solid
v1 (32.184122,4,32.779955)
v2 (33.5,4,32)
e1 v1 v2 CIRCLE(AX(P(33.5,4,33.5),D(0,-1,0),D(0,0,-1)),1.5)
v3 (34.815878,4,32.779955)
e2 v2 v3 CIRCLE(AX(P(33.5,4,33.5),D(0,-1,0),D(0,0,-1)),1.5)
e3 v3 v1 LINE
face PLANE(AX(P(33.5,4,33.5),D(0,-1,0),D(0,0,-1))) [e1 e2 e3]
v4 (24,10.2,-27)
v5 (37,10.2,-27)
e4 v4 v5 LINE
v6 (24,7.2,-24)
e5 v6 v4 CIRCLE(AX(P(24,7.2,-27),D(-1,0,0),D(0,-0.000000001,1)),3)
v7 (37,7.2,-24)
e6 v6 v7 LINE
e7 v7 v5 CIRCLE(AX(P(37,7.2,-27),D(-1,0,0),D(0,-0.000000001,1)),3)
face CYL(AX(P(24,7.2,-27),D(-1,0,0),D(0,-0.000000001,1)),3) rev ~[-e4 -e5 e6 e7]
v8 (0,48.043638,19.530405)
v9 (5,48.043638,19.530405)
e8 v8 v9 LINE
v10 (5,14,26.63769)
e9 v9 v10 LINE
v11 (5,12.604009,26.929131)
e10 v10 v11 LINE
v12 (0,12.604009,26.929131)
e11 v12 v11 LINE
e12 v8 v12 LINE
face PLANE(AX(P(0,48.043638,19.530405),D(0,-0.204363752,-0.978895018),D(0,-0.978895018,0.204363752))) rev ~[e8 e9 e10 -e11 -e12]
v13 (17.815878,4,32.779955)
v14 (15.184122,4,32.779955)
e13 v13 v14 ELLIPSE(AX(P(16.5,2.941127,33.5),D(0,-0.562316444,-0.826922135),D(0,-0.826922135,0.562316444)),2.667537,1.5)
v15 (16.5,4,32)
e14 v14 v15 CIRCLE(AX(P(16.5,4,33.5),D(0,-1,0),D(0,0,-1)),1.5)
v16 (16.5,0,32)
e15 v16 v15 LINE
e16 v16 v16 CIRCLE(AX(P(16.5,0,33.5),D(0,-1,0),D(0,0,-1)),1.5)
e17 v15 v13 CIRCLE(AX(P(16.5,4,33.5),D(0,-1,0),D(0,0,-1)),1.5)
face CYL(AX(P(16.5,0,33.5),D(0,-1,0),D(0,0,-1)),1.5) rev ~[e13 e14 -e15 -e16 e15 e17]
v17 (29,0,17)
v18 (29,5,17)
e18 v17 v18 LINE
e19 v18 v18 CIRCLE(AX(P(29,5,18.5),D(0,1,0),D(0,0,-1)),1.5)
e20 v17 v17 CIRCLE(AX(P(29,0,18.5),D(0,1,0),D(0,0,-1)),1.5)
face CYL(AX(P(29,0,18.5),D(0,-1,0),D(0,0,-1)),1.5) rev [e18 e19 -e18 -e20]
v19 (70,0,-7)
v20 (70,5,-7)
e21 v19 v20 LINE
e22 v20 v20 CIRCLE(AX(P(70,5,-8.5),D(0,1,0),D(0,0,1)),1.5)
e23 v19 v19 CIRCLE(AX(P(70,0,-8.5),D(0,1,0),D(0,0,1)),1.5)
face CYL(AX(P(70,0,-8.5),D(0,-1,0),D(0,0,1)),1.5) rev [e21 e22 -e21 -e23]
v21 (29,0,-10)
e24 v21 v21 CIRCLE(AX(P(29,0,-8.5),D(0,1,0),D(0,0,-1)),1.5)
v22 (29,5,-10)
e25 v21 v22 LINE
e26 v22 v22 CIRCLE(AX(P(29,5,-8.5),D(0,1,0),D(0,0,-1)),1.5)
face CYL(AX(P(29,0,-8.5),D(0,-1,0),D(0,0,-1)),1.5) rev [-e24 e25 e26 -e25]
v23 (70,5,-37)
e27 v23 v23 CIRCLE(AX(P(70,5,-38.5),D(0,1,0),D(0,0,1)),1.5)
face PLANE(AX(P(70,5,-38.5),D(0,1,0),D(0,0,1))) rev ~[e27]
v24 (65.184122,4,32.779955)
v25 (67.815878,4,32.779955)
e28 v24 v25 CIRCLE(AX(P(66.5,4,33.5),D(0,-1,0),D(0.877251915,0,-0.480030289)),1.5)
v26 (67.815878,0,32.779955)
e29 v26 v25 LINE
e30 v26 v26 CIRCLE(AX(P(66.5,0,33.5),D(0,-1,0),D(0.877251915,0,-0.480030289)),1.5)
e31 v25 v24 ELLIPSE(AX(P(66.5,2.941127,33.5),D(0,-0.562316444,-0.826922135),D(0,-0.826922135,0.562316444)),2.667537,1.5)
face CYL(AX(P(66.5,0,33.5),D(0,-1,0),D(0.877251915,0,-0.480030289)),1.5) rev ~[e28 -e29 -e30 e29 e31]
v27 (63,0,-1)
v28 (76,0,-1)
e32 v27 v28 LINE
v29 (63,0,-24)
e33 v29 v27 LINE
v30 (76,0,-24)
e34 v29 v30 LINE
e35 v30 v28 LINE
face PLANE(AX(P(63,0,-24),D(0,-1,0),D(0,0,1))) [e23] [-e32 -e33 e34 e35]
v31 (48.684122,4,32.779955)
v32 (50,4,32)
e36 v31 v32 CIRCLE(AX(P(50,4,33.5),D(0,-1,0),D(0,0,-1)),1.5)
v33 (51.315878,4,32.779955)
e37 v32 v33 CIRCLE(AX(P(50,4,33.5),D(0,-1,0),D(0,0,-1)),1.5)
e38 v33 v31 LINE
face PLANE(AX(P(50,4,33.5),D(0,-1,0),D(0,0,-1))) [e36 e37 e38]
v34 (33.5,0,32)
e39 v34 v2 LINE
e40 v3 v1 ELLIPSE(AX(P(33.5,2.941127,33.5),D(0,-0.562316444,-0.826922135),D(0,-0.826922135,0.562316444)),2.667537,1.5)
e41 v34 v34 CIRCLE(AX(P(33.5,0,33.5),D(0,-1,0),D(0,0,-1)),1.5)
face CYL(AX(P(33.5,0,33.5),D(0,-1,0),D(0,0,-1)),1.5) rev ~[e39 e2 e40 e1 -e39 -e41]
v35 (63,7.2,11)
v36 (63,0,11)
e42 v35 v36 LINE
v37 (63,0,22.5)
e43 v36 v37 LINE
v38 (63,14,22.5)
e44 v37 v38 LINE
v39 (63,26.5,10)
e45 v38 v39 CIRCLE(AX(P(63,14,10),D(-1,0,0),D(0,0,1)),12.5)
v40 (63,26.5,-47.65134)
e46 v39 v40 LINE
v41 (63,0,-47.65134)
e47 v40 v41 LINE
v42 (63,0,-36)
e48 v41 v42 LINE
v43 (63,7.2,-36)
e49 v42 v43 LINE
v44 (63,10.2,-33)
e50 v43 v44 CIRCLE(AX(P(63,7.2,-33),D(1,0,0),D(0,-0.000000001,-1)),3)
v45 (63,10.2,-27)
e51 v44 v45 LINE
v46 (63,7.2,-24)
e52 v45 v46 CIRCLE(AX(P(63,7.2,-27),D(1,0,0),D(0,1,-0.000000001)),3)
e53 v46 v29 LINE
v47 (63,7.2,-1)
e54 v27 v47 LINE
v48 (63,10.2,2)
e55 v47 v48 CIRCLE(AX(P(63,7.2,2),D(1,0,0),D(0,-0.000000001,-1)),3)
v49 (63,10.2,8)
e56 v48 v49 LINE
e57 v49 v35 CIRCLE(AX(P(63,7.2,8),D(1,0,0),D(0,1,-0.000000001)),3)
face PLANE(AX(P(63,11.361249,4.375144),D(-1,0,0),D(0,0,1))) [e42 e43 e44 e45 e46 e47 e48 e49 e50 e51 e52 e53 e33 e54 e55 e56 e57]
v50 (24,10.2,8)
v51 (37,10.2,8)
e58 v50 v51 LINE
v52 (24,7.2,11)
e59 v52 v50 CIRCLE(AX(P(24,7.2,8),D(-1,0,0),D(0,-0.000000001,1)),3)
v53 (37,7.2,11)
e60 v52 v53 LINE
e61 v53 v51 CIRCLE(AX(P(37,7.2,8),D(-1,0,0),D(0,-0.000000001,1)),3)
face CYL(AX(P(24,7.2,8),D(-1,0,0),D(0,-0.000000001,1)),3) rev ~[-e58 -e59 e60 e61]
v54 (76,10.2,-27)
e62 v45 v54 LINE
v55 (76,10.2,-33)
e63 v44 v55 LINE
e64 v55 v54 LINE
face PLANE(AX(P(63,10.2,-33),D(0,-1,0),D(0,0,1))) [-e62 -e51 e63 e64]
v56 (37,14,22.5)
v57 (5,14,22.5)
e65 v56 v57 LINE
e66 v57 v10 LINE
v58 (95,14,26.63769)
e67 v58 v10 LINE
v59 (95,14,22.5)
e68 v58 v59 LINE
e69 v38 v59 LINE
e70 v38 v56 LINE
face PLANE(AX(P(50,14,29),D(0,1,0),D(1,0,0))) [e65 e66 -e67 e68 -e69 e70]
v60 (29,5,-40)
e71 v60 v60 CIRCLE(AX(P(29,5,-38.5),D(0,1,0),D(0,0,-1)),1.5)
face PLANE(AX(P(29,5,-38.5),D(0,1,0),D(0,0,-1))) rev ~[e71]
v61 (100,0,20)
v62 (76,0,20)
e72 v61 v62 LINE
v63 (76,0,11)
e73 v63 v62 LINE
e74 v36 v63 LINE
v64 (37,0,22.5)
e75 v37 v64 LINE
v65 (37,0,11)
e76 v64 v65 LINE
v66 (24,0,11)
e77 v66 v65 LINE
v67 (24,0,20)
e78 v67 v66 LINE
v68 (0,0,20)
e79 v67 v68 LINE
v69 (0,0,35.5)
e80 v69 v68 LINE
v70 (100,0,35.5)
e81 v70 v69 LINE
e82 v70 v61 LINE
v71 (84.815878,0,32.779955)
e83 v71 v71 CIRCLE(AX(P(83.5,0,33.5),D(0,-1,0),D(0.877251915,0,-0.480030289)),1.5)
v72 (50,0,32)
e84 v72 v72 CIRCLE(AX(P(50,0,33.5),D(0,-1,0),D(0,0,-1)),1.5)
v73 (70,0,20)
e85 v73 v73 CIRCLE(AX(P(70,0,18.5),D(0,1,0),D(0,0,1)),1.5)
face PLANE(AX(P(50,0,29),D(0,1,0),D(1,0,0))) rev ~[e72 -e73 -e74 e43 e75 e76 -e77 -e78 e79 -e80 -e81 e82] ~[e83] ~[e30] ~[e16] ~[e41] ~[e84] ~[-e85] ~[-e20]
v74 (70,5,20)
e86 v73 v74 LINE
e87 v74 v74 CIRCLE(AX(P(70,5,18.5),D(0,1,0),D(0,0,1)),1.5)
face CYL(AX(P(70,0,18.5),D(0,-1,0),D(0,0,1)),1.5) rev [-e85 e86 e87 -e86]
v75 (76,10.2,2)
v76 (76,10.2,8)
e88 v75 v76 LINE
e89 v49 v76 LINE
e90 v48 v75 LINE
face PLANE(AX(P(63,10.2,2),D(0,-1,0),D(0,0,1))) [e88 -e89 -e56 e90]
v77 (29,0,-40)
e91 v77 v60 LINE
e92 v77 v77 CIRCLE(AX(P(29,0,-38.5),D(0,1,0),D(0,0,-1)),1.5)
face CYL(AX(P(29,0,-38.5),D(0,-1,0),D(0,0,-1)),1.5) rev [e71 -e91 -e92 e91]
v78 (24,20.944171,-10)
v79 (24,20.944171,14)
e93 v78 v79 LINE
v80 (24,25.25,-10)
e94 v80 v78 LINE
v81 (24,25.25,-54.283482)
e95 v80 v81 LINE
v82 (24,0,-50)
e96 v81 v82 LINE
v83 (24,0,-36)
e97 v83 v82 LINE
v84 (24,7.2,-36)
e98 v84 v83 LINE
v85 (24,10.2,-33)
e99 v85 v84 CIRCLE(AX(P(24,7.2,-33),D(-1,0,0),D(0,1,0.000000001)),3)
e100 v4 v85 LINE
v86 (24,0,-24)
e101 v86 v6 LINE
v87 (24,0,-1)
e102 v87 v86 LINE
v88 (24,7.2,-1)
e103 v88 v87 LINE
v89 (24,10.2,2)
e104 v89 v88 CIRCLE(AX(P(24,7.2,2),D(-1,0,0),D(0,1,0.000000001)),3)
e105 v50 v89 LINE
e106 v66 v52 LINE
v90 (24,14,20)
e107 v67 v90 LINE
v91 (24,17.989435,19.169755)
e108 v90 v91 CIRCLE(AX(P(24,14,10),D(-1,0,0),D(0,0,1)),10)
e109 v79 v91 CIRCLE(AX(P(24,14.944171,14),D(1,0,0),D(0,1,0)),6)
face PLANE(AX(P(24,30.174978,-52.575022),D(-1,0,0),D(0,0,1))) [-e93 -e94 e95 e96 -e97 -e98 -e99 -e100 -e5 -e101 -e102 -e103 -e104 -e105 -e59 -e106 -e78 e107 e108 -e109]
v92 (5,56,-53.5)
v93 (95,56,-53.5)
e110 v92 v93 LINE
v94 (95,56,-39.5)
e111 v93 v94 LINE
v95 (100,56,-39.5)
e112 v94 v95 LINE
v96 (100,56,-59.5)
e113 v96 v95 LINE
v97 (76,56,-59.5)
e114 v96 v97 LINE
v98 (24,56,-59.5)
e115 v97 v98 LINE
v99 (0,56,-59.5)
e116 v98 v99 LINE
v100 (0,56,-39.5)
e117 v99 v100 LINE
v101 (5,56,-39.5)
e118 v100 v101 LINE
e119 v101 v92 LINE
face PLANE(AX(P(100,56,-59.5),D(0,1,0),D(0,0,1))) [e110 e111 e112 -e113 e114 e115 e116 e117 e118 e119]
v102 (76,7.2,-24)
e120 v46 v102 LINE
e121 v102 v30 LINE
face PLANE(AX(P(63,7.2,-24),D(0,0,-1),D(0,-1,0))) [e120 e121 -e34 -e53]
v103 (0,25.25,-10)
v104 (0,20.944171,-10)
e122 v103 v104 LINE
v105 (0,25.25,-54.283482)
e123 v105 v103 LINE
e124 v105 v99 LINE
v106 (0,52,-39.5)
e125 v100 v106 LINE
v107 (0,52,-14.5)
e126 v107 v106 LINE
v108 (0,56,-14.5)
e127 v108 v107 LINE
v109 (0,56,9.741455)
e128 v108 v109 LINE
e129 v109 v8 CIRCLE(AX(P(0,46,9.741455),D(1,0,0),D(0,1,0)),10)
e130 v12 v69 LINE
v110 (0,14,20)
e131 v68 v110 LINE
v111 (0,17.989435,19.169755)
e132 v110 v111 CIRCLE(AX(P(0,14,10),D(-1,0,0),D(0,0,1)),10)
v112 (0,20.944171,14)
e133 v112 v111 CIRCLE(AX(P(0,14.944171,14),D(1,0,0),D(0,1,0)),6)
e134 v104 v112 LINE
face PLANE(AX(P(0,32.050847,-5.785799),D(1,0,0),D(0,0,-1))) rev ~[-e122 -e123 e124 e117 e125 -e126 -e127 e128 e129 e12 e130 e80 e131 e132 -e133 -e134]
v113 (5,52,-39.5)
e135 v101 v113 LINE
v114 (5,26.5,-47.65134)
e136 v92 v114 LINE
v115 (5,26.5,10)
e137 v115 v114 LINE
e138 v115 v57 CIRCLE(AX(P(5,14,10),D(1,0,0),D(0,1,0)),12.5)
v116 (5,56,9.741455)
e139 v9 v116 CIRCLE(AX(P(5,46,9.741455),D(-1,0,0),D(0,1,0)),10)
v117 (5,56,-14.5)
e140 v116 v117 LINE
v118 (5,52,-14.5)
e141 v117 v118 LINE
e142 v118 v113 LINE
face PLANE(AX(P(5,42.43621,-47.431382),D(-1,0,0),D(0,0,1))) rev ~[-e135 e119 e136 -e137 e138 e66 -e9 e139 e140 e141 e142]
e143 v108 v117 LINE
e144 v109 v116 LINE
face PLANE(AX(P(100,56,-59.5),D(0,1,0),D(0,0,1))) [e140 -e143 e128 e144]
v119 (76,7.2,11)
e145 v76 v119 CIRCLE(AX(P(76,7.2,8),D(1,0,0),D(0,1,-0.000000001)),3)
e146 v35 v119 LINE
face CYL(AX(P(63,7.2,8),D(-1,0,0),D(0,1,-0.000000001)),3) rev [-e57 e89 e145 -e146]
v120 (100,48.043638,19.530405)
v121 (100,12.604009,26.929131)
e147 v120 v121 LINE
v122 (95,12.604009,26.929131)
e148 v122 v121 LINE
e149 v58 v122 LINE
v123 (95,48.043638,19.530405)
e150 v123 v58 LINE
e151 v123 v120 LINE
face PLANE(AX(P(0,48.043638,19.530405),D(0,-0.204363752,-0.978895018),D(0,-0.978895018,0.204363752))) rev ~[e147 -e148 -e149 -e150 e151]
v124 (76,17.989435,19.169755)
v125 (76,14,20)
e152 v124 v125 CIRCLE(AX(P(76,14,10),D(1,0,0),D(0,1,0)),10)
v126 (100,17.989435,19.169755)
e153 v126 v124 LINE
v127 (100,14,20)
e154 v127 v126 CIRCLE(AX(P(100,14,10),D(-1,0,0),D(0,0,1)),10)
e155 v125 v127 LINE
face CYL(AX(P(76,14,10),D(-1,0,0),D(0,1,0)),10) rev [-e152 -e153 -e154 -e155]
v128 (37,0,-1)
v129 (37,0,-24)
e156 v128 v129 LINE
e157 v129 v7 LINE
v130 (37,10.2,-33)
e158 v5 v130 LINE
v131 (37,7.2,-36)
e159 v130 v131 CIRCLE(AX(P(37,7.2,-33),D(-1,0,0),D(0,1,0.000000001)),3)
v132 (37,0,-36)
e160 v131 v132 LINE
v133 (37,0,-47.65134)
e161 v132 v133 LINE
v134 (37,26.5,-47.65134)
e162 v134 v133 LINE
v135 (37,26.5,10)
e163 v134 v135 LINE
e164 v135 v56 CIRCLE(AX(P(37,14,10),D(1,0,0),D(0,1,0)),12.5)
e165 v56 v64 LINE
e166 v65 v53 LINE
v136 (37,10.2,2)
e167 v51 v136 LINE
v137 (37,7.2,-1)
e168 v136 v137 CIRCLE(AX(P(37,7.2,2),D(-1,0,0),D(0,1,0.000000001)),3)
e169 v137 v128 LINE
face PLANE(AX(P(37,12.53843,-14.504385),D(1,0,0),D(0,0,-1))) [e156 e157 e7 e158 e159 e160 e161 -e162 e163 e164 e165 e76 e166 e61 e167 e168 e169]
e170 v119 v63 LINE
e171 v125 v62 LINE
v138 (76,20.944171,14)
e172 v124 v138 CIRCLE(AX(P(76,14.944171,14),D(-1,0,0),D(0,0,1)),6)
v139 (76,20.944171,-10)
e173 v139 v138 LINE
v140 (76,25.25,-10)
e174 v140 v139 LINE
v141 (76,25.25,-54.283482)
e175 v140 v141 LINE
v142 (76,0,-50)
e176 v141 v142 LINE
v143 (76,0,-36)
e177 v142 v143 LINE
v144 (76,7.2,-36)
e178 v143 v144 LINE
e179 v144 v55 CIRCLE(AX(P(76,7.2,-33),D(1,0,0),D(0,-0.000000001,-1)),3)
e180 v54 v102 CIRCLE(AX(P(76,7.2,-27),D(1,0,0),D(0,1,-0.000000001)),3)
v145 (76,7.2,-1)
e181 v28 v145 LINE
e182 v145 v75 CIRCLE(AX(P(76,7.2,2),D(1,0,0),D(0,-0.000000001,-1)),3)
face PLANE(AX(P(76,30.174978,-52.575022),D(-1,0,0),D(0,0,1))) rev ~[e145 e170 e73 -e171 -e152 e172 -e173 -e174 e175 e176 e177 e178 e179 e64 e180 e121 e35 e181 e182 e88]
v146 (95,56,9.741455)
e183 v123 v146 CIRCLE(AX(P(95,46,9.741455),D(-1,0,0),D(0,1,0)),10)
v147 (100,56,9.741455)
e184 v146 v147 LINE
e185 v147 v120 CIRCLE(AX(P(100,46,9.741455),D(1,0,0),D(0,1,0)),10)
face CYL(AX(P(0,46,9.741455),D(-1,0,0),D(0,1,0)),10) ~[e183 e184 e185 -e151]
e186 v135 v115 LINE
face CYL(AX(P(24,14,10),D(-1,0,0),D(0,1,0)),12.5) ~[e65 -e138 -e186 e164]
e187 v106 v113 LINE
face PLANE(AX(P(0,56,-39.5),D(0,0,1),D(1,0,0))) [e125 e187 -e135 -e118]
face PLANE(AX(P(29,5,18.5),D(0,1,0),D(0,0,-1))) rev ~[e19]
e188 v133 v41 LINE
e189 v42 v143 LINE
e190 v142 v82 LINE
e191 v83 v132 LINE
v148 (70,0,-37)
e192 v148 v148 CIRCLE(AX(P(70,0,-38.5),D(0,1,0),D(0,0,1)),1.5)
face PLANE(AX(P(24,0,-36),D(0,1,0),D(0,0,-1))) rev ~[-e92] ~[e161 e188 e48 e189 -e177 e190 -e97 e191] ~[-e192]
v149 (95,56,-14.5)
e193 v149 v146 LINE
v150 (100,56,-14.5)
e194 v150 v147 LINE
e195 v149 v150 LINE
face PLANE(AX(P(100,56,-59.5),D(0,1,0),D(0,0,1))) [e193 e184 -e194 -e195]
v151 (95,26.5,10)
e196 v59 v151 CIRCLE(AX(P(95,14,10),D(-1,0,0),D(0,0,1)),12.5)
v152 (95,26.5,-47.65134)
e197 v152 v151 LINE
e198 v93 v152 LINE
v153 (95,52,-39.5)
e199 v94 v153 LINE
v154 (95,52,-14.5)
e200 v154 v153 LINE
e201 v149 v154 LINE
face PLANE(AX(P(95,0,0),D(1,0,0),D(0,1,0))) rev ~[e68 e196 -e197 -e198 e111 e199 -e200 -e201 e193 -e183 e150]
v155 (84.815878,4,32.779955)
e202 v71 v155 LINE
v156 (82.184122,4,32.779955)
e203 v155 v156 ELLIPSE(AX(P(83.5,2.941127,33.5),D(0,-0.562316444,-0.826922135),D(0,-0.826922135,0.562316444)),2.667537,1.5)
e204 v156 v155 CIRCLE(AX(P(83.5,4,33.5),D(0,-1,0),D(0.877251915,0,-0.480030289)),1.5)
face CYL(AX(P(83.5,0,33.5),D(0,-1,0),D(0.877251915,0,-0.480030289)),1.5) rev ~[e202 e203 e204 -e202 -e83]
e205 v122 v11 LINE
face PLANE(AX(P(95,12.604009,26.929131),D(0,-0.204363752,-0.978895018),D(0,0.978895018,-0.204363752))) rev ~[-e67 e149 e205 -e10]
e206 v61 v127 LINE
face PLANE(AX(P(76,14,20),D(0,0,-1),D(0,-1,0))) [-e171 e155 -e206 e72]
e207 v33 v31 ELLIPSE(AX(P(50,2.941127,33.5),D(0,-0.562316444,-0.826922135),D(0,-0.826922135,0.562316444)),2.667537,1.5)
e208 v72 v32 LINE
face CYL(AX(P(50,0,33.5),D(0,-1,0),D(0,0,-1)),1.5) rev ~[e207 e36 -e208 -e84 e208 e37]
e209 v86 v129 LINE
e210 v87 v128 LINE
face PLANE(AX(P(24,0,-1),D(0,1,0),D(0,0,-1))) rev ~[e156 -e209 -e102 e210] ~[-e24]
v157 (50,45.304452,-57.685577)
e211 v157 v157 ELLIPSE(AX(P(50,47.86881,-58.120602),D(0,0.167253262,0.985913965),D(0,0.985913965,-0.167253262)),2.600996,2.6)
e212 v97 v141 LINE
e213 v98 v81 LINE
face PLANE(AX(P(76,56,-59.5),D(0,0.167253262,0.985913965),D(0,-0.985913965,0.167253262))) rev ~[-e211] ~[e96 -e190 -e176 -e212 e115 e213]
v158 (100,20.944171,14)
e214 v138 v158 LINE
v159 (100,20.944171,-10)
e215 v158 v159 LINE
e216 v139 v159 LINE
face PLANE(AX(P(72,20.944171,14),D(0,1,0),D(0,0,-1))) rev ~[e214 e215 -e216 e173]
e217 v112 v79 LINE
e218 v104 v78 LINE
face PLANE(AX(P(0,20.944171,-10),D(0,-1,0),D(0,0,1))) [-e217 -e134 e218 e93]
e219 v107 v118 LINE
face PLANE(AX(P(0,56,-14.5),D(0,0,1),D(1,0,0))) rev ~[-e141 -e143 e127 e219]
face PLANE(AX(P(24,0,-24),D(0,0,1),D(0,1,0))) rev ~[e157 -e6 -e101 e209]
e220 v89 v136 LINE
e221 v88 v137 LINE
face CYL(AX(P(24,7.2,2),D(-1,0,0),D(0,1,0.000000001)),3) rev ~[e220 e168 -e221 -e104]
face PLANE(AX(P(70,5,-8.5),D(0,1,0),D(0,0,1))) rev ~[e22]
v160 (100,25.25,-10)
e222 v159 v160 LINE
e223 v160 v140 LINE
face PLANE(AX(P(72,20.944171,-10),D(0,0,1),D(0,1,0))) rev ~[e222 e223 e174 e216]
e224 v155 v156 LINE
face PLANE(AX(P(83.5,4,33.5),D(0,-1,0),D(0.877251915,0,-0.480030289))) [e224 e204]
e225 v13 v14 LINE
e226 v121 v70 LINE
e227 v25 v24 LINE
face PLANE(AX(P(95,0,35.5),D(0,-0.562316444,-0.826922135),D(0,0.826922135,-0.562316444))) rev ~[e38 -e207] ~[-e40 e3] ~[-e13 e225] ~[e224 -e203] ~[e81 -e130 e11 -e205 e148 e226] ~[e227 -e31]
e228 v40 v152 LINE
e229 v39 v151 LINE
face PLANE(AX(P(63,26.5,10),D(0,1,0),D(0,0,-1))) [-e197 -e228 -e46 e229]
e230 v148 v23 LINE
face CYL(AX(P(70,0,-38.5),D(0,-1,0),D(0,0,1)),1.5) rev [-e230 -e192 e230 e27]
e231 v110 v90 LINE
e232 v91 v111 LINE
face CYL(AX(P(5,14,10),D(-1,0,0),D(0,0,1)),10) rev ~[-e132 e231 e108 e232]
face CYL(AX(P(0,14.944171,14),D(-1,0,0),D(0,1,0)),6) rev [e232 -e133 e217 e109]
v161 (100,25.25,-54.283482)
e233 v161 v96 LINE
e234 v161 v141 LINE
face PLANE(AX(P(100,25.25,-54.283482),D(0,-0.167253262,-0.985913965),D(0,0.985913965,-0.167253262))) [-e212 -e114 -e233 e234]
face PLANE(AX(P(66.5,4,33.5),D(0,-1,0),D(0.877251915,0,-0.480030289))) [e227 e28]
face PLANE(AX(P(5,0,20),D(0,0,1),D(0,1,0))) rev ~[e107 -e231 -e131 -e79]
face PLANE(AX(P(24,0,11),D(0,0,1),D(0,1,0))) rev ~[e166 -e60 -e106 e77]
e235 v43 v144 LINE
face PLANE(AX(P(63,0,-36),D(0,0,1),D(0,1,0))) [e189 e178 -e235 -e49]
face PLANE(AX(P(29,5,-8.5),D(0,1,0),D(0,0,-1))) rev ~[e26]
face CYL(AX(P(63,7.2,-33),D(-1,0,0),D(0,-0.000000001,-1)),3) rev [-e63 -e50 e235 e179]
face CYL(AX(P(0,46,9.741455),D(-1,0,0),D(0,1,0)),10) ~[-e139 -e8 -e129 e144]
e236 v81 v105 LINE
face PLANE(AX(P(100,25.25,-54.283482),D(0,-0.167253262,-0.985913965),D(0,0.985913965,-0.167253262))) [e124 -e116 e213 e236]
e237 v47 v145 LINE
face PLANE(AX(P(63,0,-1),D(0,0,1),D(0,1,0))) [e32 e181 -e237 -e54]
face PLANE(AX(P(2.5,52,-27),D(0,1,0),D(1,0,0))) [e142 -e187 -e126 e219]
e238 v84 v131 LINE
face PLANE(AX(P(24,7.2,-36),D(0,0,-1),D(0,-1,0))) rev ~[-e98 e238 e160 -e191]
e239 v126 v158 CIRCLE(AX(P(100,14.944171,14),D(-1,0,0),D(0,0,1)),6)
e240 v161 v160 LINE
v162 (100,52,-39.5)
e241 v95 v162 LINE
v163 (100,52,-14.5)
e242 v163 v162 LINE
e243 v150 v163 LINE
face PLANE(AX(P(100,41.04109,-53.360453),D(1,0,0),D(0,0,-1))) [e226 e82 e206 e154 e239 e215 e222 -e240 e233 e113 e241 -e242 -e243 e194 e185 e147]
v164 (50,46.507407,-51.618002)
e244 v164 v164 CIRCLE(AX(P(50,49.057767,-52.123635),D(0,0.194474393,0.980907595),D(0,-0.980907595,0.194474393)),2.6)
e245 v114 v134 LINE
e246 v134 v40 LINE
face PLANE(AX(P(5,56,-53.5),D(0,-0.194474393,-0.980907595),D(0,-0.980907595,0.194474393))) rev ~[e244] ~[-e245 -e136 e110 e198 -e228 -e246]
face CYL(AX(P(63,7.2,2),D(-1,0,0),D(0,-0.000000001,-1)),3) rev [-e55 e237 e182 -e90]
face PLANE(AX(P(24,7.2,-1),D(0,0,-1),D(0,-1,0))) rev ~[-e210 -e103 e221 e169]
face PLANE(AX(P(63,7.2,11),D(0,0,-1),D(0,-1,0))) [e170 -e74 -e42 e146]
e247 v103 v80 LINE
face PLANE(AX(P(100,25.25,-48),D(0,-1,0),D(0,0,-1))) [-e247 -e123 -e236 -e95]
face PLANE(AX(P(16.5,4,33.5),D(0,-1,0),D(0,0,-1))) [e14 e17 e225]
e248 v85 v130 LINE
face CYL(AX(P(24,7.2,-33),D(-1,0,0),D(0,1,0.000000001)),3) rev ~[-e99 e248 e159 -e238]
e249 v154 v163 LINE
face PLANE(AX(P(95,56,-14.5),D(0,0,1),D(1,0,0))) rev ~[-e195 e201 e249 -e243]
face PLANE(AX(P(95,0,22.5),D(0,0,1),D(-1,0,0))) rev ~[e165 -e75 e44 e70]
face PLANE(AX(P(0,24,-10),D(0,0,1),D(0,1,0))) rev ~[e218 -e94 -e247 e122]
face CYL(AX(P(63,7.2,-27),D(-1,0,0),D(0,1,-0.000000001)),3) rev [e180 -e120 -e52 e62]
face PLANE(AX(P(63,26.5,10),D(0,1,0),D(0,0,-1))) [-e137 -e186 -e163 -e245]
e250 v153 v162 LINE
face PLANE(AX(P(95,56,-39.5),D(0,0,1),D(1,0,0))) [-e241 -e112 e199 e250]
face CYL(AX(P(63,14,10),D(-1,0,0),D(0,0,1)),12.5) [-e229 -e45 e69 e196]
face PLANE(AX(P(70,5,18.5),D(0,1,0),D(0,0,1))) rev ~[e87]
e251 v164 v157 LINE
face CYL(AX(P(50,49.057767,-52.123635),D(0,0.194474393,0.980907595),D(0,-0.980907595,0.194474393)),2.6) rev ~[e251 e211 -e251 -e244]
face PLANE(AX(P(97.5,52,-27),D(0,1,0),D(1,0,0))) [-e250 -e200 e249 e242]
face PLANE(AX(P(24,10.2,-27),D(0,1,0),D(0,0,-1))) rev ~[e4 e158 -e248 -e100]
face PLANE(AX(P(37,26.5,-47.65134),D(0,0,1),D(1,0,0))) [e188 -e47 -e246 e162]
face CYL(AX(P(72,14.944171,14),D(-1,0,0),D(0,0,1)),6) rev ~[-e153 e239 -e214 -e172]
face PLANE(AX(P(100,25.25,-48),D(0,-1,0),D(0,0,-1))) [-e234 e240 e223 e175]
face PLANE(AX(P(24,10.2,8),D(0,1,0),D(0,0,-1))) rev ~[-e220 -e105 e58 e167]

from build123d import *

# Parameters (mm, degrees)
SALIENTE_EXTRUIR1_DEPTH  = 100
CROQUIS4_W               = 90
CROQUIS4_H               = 70
CORTAR_EXTRUIR1_DEPTH    = 44
SALIENTE_EXTRUIR2_DEPTH  = 19
SALIENTE_EXTRUIR4_START  = 19
SALIENTE_EXTRUIR4_DEPTH  = 19
SALIENTE_EXTRUIR7_DEPTH  = 13
SALIENTE_EXTRUIR28_START = 13
CROQUIS11_W              = 34
CROQUIS11_H              = 2.5
SALIENTE_EXTRUIR28_DEPTH = 13
CROQUIS13_W              = 28
CROQUIS13_H              = 6
SALIENTE_EXTRUIR10_DEPTH = 24
CROQUIS15_R              = 1.5
CORTAR_EXTRUIR2_DEPTH    = 5
CORTAR_EXTRUIR3_DEPTH    = 24
SALIENTE_EXTRUIR12_START = -28
SALIENTE_EXTRUIR12_DEPTH = 28
SALIENTE_EXTRUIR13_DEPTH = 52
SALIENTE_EXTRUIR14_DEPTH = 100
CORTAR_EXTRUIR4_DEPTH    = 24
SALIENTE_EXTRUIR15_DEPTH = 24
CORTAR_EXTRUIR7_DEPTH    = 90
SALIENTE_EXTRUIR27_DEPTH = 14
CORTAR_EXTRUIR12_DEPTH   = 90
CROQUIS41_R              = 2.6
CORTAR_EXTRUIR13_DEPTH   = 10
CROQUIS42_W              = 26
CROQUIS42_H              = 3.651340431
CORTAR_EXTRUIR14_DEPTH   = 121.043742028
CROQUIS37_W              = 5
CROQUIS37_H              = 25
CORTAR_EXTRUIR15_DEPTH   = 4
CROQUIS44_R              = 1.5
CORTAR_EXTRUIR16_DEPTH   = 4


with BuildPart() as part:
    # Croquis1 → Saliente-Extruir1 (new body)
    with BuildSketch(Plane(origin=(0, 0, 0), x_dir=(0, 0, -1), z_dir=(1, 0, 0))):
        with BuildLine():
            Line((50, 24), (50, 56))
            Line((50, 56), (-1.5, 56))
            Line((-1.5, 56), (-9.741455248, 56))
            ThreePointArc((-9.741455248, 56), (-16.048737738, 53.76003786), (-19.530405432, 48.043637519))
            Line((-19.530405432, 48.043637519), (-26.9291309, 12.604008733))
            Line((-26.9291309, 12.604008733), (-35.5, 0))
            Line((-35.5, 0), (-20, 0))
            Line((-20, 0), (-20, 14))
            ThreePointArc((-20, 14), (-17.071067812, 21.071067812), (-10, 24))
            Line((-10, 24), (50, 24))
        make_face()
    extrude(amount=SALIENTE_EXTRUIR1_DEPTH)

    # Croquis4 → Cortar-Extruir1 (cut, symmetric)
    with BuildSketch(Plane.XY):
        with Locations((50, 35)):
            Rectangle(CROQUIS4_W, CROQUIS4_H)
    extrude(amount=CORTAR_EXTRUIR1_DEPTH, both=True, mode=Mode.SUBTRACT)

    # Croquis5 → Saliente-Extruir2 (add)
    with BuildSketch(Plane(origin=(5, 0, 0), x_dir=(0, 0, -1), z_dir=(1, 0, 0))):
        with BuildLine():
            Line((-20, 0), (-20, 14))
            ThreePointArc((-20, 14), (-17.071067812, 21.071067812), (-10, 24))
            Line((-10, 24), (50, 24))
            Line((50, 24), (50, 26.5))
            Line((50, 26.5), (-10, 26.5))
            ThreePointArc((-10, 26.5), (-18.838834765, 22.838834765), (-22.5, 14))
            Line((-22.5, 14), (-22.5, 0))
            Line((-22.5, 0), (-20, 0))
        make_face()
    extrude(amount=SALIENTE_EXTRUIR2_DEPTH)

    # Croquis7 → Saliente-Extruir4 (add)
    with BuildSketch(Plane.ZY.offset(-95).offset(SALIENTE_EXTRUIR4_START)):
        with BuildLine():
            Line((20, 14), (20, 0))
            Line((20, 0), (22.5, 0))
            Line((22.5, 0), (22.5, 14))
            ThreePointArc((22.5, 14), (18.838834765, 22.838834765), (10, 26.5))
            Line((10, 26.5), (-50, 26.5))
            Line((-50, 26.5), (-50, 24))
            Line((-50, 24), (10, 24))
            ThreePointArc((10, 24), (17.071067812, 21.071067812), (20, 14))
        make_face()
    extrude(amount=-SALIENTE_EXTRUIR4_DEPTH)

    # Croquis10 → Saliente-Extruir7 (add)
    with BuildSketch(Plane(origin=(24, 0, 0), x_dir=(0, 0, -1), z_dir=(1, 0, 0))):
        with BuildLine():
            Line((50, 26.5), (-10, 26.5))
            ThreePointArc((-10, 26.5), (-18.838834765, 22.838834765), (-22.5, 14))
            Line((-22.5, 14), (-22.5, 0))
            Line((-22.5, 0), (-11, 0))
            Line((-11, 0), (-11, 7.2))
            ThreePointArc((-11, 7.2), (-10.121320344, 9.321320344), (-8, 10.2))
            Line((-8, 10.2), (-2, 10.2))
            ThreePointArc((-2, 10.2), (0.121320344, 9.321320344), (1, 7.2))
            Line((1, 7.2), (1, 0))
            Line((1, 0), (24, 0))
            Line((24, 0), (24, 7.2))
            ThreePointArc((24, 7.2), (24.878679656, 9.321320344), (27, 10.2))
            Line((27, 10.2), (33, 10.2))
            ThreePointArc((33, 10.2), (35.121320344, 9.321320344), (36, 7.2))
            Line((36, 7.2), (36, 0))
            Line((36, 0), (50, 0))
            Line((50, 0), (50, 26.5))
        make_face()
    extrude(amount=SALIENTE_EXTRUIR7_DEPTH)

    # Croquis11 → Saliente-Extruir28 (add)
    with BuildSketch(Plane.ZY.offset(-76).offset(SALIENTE_EXTRUIR28_START)):
        with BuildLine():
            Line((10, 24), (-10, 24))
            Line((-10, 24), (-10, 0))
            Line((-10, 0), (-1, 0))
            Line((-1, 0), (-1, 7.2))
            ThreePointArc((-1, 7.2), (-0.121320344, 9.321320344), (2, 10.2))
            Line((2, 10.2), (8, 10.2))
            ThreePointArc((8, 10.2), (10.121320344, 9.321320344), (11, 7.2))
            Line((11, 7.2), (11, 0))
            Line((11, 0), (20, 0))
            Line((20, 0), (20, 14))
            ThreePointArc((20, 14), (17.071067812, 21.071067812), (10, 24))
        make_face()
        with BuildLine():
            Line((-10, 0), (-10, 24))
            Line((-10, 24), (-44, 24))
            Line((-44, 24), (-44, 26.5))
            Line((-44, 26.5), (-50, 26.5))
            Line((-50, 26.5), (-50, 24))
            Line((-50, 24), (-50, 0))
            Line((-50, 0), (-36, 0))
            Line((-36, 0), (-36, 7.2))
            ThreePointArc((-36, 7.2), (-35.121320344, 9.321320344), (-33, 10.2))
            Line((-33, 10.2), (-27, 10.2))
            ThreePointArc((-27, 10.2), (-24.878679656, 9.321320344), (-24, 7.2))
            Line((-24, 7.2), (-24, 0))
            Line((-24, 0), (-10, 0))
        make_face()
        with Locations((-27, 25.25)):
            Rectangle(CROQUIS11_W, CROQUIS11_H)
        with BuildLine():
            Line((10, 26.5), (-10, 26.5))
            Line((-10, 26.5), (-10, 24))
            Line((-10, 24), (10, 24))
            ThreePointArc((10, 24), (17.071067812, 21.071067812), (20, 14))
            Line((20, 14), (20, 0))
            Line((20, 0), (22.5, 0))
            Line((22.5, 0), (22.5, 14))
            ThreePointArc((22.5, 14), (18.838834765, 22.838834765), (10, 26.5))
        make_face()
    extrude(amount=-SALIENTE_EXTRUIR28_DEPTH)

    # Croquis13 → Saliente-Extruir10 (add)
    with BuildSketch(Plane.XZ.offset(-24)):
        with Locations((50, -47)):
            Rectangle(CROQUIS13_W, CROQUIS13_H)
    extrude(amount=SALIENTE_EXTRUIR10_DEPTH)

    # Croquis15 → Cortar-Extruir2 (cut)
    with BuildSketch(Plane(origin=(0, 0, 0), x_dir=(1, 0, 0), z_dir=(0, 1, 0))):
        with Locations(Location((70, 38.5, 0), (0, 0, 270))):
            Circle(CROQUIS15_R)
        with Locations(Location((70, 8.5, 0), (0, 0, 270))):
            Circle(CROQUIS15_R)
        with Locations(Location((70, -18.5, 0), (0, 0, 270))):
            Circle(CROQUIS15_R)
        with Locations(Location((29, -18.5, 0), (0, 0, 90))):
            Circle(CROQUIS15_R)
        with Locations(Location((29, 8.5, 0), (0, 0, 90))):
            Circle(CROQUIS15_R)
        with Locations(Location((29, 38.5, 0), (0, 0, 90))):
            Circle(CROQUIS15_R)
    extrude(amount=CORTAR_EXTRUIR2_DEPTH, mode=Mode.SUBTRACT)

    # Croquis16 → Cortar-Extruir3 (cut)
    with BuildSketch(Plane(origin=(100, 0, 0), x_dir=(0, 0, -1), z_dir=(1, 0, 0))):
        with BuildLine():
            Line((10, 24.25), (10, 24))
            Line((10, 24), (50, 24))
            Line((50, 24), (50.733673202, 24))
            Line((50.733673202, 24), (50.733673202, 28.25))
            Line((50.733673202, 28.25), (50, 28.25))
            Line((50, 28.25), (50, 27.25))
            ThreePointArc((50, 27.25), (49.414213562, 25.835786438), (48, 25.25))
            Line((48, 25.25), (11, 25.25))
            Line((11, 25.25), (10, 25.25))
            Line((10, 25.25), (10, 24.25))
        make_face()
    extrude(amount=-CORTAR_EXTRUIR3_DEPTH, mode=Mode.SUBTRACT)

    # Croquis17 → Saliente-Extruir12 (add)
    with BuildSketch(Plane(origin=(100, 0, 0), x_dir=(0, 0, -1), z_dir=(1, 0, 0)).offset(SALIENTE_EXTRUIR12_START)):
        with BuildLine():
            Line((-14, 20.944171176), (7, 20.944171176))
            Line((7, 20.944171176), (10, 20.944171176))
            Line((10, 20.944171176), (10, 23.944171176))
            Line((10, 23.944171176), (10, 24))
            Line((10, 24), (10, 26.5))
            Line((10, 26.5), (-10, 26.5))
            ThreePointArc((-10, 26.5), (-18.838834765, 22.838834765), (-22.5, 14))
            Line((-22.5, 14), (-20, 14))
            Line((-20, 14), (-20, 14.944171176))
            ThreePointArc((-20, 14.944171176), (-18.242640687, 19.186811864), (-14, 20.944171176))
        make_face()
    extrude(amount=SALIENTE_EXTRUIR12_DEPTH)

    # Croquis18 → Saliente-Extruir13 (add)
    with BuildSketch(Plane(origin=(76, 0, 0), x_dir=(0, 0, -1), z_dir=(1, 0, 0))):
        Polygon((50, 0), (50, 56), (59.5, 56), align=None)
    extrude(amount=-SALIENTE_EXTRUIR13_DEPTH)

    # Croquis19 → Saliente-Extruir14 (add)
    with BuildSketch(Plane(origin=(100, 0, 0), x_dir=(0, 0, -1), z_dir=(1, 0, 0))):
        with BuildLine():
            Line((48, 25.25), (54.283482143, 25.25))
            Line((54.283482143, 25.25), (59.5, 56))
            Line((59.5, 56), (50, 56))
            Line((50, 56), (50, 27.25))
            ThreePointArc((50, 27.25), (49.414213562, 25.835786438), (48, 25.25))
        make_face()
    extrude(amount=-SALIENTE_EXTRUIR14_DEPTH)

    # Croquis20 → Cortar-Extruir4 (cut)
    with BuildSketch(Plane.ZY):
        Polygon((-48, 25.25), (-50.733673202, 25.25), (-50.733673202, 24), (-50, 24), (-10, 24), (-10, 24.25), (-10, 25.25), (-11, 25.25), align=None)
    extrude(amount=-CORTAR_EXTRUIR4_DEPTH, mode=Mode.SUBTRACT)

    # Croquis21 → Saliente-Extruir15 (add)
    with BuildSketch(Plane.ZY):
        with BuildLine():
            Line((20, 14.944171176), (20, 14))
            Line((20, 14), (22.5, 14))
            ThreePointArc((22.5, 14), (18.838834765, 22.838834765), (10, 26.5))
            Line((10, 26.5), (-10, 26.5))
            Line((-10, 26.5), (-10, 24))
            Line((-10, 24), (-10, 23.944171176))
            Line((-10, 23.944171176), (-10, 20.944171176))
            Line((-10, 20.944171176), (-7, 20.944171176))
            Line((-7, 20.944171176), (14, 20.944171176))
            ThreePointArc((14, 20.944171176), (18.242640687, 19.186811864), (20, 14.944171176))
        make_face()
    extrude(amount=-SALIENTE_EXTRUIR15_DEPTH)

    # Croquis23 → Cortar-Extruir7 (cut)
    with BuildSketch(Plane(origin=(5, 0, 0), x_dir=(0, 0, -1), z_dir=(1, 0, 0))):
        Polygon((44, 56), (53.5, 56), (47.651340431, 26.5), (44, 26.5), align=None)
    extrude(amount=CORTAR_EXTRUIR7_DEPTH, mode=Mode.SUBTRACT)

    # Croquis39 → Saliente-Extruir27 (add)
    with BuildSketch(Plane(origin=(0, 0, 0), x_dir=(1, 0, 0), z_dir=(0, 1, 0))):
        Polygon((5, -26.5), (5, -35.5), (95, -35.5), (95, -26.5), (95, -22.5), (5, -22.5), align=None)
    extrude(amount=SALIENTE_EXTRUIR27_DEPTH)

    # Croquis40 → Cortar-Extruir12 (cut)
    with BuildSketch(Plane(origin=(95, 0, 0), x_dir=(0, 0, -1), z_dir=(1, 0, 0))):
        Polygon((-26.637690033, 14), (-35.5, 14), (-35.5, 0), (-26.9291309, 12.604008733), align=None)
    extrude(amount=-CORTAR_EXTRUIR12_DEPTH, mode=Mode.SUBTRACT)

    # Croquis41 → Cortar-Extruir13 (cut)
    with BuildSketch(Plane(origin=(0, -8.087799177, -40.793975597), x_dir=(1, 0, 0), z_dir=(0, 0.19447439298800823, 0.9809075952769181))):
        with Locations(Location((50, 58.257848261, 0), (0, 0, 270))):
            Circle(CROQUIS41_R)
    extrude(amount=-CORTAR_EXTRUIR13_DEPTH, mode=Mode.SUBTRACT)

    # Croquis42 → Cortar-Extruir14 (cut, through all)
    with BuildSketch(Plane(origin=(0, 26.5, 0), x_dir=(1, 0, 0), z_dir=(0, 1, 0))):
        with Locations((50, 45.825670215)):
            Rectangle(CROQUIS42_W, CROQUIS42_H)
    extrude(amount=-CORTAR_EXTRUIR14_DEPTH, mode=Mode.SUBTRACT)

    # Croquis37 → Cortar-Extruir15 (cut)
    with BuildSketch(Plane(origin=(0, 56, 0), x_dir=(1, 0, 0), z_dir=(0, 1, 0))):
        with Locations((97.5, 27)):
            Rectangle(CROQUIS37_W, CROQUIS37_H)
        with Locations((2.5, 27)):
            Rectangle(CROQUIS37_W, CROQUIS37_H)
    extrude(amount=-CORTAR_EXTRUIR15_DEPTH, mode=Mode.SUBTRACT)

    # Croquis44 → Cortar-Extruir16 (cut)
    with BuildSketch(Plane.XZ):
        with Locations(Location((50, 33.5, 0), (0, 0, 270))):
            Circle(CROQUIS44_R)
        with Locations(Location((33.5, 33.5, 0), (0, 0, 270))):
            Circle(CROQUIS44_R)
        with Locations(Location((16.5, 33.5, 0), (0, 0, 270))):
            Circle(CROQUIS44_R)
        with Locations(Location((83.5, 33.5, 0), (0, 0, 331.312619738))):
            Circle(CROQUIS44_R)
        with Locations(Location((66.5, 33.5, 0), (0, 0, 331.312619738))):
            Circle(CROQUIS44_R)
    extrude(amount=-CORTAR_EXTRUIR16_DEPTH, mode=Mode.SUBTRACT)


solid = part.part
